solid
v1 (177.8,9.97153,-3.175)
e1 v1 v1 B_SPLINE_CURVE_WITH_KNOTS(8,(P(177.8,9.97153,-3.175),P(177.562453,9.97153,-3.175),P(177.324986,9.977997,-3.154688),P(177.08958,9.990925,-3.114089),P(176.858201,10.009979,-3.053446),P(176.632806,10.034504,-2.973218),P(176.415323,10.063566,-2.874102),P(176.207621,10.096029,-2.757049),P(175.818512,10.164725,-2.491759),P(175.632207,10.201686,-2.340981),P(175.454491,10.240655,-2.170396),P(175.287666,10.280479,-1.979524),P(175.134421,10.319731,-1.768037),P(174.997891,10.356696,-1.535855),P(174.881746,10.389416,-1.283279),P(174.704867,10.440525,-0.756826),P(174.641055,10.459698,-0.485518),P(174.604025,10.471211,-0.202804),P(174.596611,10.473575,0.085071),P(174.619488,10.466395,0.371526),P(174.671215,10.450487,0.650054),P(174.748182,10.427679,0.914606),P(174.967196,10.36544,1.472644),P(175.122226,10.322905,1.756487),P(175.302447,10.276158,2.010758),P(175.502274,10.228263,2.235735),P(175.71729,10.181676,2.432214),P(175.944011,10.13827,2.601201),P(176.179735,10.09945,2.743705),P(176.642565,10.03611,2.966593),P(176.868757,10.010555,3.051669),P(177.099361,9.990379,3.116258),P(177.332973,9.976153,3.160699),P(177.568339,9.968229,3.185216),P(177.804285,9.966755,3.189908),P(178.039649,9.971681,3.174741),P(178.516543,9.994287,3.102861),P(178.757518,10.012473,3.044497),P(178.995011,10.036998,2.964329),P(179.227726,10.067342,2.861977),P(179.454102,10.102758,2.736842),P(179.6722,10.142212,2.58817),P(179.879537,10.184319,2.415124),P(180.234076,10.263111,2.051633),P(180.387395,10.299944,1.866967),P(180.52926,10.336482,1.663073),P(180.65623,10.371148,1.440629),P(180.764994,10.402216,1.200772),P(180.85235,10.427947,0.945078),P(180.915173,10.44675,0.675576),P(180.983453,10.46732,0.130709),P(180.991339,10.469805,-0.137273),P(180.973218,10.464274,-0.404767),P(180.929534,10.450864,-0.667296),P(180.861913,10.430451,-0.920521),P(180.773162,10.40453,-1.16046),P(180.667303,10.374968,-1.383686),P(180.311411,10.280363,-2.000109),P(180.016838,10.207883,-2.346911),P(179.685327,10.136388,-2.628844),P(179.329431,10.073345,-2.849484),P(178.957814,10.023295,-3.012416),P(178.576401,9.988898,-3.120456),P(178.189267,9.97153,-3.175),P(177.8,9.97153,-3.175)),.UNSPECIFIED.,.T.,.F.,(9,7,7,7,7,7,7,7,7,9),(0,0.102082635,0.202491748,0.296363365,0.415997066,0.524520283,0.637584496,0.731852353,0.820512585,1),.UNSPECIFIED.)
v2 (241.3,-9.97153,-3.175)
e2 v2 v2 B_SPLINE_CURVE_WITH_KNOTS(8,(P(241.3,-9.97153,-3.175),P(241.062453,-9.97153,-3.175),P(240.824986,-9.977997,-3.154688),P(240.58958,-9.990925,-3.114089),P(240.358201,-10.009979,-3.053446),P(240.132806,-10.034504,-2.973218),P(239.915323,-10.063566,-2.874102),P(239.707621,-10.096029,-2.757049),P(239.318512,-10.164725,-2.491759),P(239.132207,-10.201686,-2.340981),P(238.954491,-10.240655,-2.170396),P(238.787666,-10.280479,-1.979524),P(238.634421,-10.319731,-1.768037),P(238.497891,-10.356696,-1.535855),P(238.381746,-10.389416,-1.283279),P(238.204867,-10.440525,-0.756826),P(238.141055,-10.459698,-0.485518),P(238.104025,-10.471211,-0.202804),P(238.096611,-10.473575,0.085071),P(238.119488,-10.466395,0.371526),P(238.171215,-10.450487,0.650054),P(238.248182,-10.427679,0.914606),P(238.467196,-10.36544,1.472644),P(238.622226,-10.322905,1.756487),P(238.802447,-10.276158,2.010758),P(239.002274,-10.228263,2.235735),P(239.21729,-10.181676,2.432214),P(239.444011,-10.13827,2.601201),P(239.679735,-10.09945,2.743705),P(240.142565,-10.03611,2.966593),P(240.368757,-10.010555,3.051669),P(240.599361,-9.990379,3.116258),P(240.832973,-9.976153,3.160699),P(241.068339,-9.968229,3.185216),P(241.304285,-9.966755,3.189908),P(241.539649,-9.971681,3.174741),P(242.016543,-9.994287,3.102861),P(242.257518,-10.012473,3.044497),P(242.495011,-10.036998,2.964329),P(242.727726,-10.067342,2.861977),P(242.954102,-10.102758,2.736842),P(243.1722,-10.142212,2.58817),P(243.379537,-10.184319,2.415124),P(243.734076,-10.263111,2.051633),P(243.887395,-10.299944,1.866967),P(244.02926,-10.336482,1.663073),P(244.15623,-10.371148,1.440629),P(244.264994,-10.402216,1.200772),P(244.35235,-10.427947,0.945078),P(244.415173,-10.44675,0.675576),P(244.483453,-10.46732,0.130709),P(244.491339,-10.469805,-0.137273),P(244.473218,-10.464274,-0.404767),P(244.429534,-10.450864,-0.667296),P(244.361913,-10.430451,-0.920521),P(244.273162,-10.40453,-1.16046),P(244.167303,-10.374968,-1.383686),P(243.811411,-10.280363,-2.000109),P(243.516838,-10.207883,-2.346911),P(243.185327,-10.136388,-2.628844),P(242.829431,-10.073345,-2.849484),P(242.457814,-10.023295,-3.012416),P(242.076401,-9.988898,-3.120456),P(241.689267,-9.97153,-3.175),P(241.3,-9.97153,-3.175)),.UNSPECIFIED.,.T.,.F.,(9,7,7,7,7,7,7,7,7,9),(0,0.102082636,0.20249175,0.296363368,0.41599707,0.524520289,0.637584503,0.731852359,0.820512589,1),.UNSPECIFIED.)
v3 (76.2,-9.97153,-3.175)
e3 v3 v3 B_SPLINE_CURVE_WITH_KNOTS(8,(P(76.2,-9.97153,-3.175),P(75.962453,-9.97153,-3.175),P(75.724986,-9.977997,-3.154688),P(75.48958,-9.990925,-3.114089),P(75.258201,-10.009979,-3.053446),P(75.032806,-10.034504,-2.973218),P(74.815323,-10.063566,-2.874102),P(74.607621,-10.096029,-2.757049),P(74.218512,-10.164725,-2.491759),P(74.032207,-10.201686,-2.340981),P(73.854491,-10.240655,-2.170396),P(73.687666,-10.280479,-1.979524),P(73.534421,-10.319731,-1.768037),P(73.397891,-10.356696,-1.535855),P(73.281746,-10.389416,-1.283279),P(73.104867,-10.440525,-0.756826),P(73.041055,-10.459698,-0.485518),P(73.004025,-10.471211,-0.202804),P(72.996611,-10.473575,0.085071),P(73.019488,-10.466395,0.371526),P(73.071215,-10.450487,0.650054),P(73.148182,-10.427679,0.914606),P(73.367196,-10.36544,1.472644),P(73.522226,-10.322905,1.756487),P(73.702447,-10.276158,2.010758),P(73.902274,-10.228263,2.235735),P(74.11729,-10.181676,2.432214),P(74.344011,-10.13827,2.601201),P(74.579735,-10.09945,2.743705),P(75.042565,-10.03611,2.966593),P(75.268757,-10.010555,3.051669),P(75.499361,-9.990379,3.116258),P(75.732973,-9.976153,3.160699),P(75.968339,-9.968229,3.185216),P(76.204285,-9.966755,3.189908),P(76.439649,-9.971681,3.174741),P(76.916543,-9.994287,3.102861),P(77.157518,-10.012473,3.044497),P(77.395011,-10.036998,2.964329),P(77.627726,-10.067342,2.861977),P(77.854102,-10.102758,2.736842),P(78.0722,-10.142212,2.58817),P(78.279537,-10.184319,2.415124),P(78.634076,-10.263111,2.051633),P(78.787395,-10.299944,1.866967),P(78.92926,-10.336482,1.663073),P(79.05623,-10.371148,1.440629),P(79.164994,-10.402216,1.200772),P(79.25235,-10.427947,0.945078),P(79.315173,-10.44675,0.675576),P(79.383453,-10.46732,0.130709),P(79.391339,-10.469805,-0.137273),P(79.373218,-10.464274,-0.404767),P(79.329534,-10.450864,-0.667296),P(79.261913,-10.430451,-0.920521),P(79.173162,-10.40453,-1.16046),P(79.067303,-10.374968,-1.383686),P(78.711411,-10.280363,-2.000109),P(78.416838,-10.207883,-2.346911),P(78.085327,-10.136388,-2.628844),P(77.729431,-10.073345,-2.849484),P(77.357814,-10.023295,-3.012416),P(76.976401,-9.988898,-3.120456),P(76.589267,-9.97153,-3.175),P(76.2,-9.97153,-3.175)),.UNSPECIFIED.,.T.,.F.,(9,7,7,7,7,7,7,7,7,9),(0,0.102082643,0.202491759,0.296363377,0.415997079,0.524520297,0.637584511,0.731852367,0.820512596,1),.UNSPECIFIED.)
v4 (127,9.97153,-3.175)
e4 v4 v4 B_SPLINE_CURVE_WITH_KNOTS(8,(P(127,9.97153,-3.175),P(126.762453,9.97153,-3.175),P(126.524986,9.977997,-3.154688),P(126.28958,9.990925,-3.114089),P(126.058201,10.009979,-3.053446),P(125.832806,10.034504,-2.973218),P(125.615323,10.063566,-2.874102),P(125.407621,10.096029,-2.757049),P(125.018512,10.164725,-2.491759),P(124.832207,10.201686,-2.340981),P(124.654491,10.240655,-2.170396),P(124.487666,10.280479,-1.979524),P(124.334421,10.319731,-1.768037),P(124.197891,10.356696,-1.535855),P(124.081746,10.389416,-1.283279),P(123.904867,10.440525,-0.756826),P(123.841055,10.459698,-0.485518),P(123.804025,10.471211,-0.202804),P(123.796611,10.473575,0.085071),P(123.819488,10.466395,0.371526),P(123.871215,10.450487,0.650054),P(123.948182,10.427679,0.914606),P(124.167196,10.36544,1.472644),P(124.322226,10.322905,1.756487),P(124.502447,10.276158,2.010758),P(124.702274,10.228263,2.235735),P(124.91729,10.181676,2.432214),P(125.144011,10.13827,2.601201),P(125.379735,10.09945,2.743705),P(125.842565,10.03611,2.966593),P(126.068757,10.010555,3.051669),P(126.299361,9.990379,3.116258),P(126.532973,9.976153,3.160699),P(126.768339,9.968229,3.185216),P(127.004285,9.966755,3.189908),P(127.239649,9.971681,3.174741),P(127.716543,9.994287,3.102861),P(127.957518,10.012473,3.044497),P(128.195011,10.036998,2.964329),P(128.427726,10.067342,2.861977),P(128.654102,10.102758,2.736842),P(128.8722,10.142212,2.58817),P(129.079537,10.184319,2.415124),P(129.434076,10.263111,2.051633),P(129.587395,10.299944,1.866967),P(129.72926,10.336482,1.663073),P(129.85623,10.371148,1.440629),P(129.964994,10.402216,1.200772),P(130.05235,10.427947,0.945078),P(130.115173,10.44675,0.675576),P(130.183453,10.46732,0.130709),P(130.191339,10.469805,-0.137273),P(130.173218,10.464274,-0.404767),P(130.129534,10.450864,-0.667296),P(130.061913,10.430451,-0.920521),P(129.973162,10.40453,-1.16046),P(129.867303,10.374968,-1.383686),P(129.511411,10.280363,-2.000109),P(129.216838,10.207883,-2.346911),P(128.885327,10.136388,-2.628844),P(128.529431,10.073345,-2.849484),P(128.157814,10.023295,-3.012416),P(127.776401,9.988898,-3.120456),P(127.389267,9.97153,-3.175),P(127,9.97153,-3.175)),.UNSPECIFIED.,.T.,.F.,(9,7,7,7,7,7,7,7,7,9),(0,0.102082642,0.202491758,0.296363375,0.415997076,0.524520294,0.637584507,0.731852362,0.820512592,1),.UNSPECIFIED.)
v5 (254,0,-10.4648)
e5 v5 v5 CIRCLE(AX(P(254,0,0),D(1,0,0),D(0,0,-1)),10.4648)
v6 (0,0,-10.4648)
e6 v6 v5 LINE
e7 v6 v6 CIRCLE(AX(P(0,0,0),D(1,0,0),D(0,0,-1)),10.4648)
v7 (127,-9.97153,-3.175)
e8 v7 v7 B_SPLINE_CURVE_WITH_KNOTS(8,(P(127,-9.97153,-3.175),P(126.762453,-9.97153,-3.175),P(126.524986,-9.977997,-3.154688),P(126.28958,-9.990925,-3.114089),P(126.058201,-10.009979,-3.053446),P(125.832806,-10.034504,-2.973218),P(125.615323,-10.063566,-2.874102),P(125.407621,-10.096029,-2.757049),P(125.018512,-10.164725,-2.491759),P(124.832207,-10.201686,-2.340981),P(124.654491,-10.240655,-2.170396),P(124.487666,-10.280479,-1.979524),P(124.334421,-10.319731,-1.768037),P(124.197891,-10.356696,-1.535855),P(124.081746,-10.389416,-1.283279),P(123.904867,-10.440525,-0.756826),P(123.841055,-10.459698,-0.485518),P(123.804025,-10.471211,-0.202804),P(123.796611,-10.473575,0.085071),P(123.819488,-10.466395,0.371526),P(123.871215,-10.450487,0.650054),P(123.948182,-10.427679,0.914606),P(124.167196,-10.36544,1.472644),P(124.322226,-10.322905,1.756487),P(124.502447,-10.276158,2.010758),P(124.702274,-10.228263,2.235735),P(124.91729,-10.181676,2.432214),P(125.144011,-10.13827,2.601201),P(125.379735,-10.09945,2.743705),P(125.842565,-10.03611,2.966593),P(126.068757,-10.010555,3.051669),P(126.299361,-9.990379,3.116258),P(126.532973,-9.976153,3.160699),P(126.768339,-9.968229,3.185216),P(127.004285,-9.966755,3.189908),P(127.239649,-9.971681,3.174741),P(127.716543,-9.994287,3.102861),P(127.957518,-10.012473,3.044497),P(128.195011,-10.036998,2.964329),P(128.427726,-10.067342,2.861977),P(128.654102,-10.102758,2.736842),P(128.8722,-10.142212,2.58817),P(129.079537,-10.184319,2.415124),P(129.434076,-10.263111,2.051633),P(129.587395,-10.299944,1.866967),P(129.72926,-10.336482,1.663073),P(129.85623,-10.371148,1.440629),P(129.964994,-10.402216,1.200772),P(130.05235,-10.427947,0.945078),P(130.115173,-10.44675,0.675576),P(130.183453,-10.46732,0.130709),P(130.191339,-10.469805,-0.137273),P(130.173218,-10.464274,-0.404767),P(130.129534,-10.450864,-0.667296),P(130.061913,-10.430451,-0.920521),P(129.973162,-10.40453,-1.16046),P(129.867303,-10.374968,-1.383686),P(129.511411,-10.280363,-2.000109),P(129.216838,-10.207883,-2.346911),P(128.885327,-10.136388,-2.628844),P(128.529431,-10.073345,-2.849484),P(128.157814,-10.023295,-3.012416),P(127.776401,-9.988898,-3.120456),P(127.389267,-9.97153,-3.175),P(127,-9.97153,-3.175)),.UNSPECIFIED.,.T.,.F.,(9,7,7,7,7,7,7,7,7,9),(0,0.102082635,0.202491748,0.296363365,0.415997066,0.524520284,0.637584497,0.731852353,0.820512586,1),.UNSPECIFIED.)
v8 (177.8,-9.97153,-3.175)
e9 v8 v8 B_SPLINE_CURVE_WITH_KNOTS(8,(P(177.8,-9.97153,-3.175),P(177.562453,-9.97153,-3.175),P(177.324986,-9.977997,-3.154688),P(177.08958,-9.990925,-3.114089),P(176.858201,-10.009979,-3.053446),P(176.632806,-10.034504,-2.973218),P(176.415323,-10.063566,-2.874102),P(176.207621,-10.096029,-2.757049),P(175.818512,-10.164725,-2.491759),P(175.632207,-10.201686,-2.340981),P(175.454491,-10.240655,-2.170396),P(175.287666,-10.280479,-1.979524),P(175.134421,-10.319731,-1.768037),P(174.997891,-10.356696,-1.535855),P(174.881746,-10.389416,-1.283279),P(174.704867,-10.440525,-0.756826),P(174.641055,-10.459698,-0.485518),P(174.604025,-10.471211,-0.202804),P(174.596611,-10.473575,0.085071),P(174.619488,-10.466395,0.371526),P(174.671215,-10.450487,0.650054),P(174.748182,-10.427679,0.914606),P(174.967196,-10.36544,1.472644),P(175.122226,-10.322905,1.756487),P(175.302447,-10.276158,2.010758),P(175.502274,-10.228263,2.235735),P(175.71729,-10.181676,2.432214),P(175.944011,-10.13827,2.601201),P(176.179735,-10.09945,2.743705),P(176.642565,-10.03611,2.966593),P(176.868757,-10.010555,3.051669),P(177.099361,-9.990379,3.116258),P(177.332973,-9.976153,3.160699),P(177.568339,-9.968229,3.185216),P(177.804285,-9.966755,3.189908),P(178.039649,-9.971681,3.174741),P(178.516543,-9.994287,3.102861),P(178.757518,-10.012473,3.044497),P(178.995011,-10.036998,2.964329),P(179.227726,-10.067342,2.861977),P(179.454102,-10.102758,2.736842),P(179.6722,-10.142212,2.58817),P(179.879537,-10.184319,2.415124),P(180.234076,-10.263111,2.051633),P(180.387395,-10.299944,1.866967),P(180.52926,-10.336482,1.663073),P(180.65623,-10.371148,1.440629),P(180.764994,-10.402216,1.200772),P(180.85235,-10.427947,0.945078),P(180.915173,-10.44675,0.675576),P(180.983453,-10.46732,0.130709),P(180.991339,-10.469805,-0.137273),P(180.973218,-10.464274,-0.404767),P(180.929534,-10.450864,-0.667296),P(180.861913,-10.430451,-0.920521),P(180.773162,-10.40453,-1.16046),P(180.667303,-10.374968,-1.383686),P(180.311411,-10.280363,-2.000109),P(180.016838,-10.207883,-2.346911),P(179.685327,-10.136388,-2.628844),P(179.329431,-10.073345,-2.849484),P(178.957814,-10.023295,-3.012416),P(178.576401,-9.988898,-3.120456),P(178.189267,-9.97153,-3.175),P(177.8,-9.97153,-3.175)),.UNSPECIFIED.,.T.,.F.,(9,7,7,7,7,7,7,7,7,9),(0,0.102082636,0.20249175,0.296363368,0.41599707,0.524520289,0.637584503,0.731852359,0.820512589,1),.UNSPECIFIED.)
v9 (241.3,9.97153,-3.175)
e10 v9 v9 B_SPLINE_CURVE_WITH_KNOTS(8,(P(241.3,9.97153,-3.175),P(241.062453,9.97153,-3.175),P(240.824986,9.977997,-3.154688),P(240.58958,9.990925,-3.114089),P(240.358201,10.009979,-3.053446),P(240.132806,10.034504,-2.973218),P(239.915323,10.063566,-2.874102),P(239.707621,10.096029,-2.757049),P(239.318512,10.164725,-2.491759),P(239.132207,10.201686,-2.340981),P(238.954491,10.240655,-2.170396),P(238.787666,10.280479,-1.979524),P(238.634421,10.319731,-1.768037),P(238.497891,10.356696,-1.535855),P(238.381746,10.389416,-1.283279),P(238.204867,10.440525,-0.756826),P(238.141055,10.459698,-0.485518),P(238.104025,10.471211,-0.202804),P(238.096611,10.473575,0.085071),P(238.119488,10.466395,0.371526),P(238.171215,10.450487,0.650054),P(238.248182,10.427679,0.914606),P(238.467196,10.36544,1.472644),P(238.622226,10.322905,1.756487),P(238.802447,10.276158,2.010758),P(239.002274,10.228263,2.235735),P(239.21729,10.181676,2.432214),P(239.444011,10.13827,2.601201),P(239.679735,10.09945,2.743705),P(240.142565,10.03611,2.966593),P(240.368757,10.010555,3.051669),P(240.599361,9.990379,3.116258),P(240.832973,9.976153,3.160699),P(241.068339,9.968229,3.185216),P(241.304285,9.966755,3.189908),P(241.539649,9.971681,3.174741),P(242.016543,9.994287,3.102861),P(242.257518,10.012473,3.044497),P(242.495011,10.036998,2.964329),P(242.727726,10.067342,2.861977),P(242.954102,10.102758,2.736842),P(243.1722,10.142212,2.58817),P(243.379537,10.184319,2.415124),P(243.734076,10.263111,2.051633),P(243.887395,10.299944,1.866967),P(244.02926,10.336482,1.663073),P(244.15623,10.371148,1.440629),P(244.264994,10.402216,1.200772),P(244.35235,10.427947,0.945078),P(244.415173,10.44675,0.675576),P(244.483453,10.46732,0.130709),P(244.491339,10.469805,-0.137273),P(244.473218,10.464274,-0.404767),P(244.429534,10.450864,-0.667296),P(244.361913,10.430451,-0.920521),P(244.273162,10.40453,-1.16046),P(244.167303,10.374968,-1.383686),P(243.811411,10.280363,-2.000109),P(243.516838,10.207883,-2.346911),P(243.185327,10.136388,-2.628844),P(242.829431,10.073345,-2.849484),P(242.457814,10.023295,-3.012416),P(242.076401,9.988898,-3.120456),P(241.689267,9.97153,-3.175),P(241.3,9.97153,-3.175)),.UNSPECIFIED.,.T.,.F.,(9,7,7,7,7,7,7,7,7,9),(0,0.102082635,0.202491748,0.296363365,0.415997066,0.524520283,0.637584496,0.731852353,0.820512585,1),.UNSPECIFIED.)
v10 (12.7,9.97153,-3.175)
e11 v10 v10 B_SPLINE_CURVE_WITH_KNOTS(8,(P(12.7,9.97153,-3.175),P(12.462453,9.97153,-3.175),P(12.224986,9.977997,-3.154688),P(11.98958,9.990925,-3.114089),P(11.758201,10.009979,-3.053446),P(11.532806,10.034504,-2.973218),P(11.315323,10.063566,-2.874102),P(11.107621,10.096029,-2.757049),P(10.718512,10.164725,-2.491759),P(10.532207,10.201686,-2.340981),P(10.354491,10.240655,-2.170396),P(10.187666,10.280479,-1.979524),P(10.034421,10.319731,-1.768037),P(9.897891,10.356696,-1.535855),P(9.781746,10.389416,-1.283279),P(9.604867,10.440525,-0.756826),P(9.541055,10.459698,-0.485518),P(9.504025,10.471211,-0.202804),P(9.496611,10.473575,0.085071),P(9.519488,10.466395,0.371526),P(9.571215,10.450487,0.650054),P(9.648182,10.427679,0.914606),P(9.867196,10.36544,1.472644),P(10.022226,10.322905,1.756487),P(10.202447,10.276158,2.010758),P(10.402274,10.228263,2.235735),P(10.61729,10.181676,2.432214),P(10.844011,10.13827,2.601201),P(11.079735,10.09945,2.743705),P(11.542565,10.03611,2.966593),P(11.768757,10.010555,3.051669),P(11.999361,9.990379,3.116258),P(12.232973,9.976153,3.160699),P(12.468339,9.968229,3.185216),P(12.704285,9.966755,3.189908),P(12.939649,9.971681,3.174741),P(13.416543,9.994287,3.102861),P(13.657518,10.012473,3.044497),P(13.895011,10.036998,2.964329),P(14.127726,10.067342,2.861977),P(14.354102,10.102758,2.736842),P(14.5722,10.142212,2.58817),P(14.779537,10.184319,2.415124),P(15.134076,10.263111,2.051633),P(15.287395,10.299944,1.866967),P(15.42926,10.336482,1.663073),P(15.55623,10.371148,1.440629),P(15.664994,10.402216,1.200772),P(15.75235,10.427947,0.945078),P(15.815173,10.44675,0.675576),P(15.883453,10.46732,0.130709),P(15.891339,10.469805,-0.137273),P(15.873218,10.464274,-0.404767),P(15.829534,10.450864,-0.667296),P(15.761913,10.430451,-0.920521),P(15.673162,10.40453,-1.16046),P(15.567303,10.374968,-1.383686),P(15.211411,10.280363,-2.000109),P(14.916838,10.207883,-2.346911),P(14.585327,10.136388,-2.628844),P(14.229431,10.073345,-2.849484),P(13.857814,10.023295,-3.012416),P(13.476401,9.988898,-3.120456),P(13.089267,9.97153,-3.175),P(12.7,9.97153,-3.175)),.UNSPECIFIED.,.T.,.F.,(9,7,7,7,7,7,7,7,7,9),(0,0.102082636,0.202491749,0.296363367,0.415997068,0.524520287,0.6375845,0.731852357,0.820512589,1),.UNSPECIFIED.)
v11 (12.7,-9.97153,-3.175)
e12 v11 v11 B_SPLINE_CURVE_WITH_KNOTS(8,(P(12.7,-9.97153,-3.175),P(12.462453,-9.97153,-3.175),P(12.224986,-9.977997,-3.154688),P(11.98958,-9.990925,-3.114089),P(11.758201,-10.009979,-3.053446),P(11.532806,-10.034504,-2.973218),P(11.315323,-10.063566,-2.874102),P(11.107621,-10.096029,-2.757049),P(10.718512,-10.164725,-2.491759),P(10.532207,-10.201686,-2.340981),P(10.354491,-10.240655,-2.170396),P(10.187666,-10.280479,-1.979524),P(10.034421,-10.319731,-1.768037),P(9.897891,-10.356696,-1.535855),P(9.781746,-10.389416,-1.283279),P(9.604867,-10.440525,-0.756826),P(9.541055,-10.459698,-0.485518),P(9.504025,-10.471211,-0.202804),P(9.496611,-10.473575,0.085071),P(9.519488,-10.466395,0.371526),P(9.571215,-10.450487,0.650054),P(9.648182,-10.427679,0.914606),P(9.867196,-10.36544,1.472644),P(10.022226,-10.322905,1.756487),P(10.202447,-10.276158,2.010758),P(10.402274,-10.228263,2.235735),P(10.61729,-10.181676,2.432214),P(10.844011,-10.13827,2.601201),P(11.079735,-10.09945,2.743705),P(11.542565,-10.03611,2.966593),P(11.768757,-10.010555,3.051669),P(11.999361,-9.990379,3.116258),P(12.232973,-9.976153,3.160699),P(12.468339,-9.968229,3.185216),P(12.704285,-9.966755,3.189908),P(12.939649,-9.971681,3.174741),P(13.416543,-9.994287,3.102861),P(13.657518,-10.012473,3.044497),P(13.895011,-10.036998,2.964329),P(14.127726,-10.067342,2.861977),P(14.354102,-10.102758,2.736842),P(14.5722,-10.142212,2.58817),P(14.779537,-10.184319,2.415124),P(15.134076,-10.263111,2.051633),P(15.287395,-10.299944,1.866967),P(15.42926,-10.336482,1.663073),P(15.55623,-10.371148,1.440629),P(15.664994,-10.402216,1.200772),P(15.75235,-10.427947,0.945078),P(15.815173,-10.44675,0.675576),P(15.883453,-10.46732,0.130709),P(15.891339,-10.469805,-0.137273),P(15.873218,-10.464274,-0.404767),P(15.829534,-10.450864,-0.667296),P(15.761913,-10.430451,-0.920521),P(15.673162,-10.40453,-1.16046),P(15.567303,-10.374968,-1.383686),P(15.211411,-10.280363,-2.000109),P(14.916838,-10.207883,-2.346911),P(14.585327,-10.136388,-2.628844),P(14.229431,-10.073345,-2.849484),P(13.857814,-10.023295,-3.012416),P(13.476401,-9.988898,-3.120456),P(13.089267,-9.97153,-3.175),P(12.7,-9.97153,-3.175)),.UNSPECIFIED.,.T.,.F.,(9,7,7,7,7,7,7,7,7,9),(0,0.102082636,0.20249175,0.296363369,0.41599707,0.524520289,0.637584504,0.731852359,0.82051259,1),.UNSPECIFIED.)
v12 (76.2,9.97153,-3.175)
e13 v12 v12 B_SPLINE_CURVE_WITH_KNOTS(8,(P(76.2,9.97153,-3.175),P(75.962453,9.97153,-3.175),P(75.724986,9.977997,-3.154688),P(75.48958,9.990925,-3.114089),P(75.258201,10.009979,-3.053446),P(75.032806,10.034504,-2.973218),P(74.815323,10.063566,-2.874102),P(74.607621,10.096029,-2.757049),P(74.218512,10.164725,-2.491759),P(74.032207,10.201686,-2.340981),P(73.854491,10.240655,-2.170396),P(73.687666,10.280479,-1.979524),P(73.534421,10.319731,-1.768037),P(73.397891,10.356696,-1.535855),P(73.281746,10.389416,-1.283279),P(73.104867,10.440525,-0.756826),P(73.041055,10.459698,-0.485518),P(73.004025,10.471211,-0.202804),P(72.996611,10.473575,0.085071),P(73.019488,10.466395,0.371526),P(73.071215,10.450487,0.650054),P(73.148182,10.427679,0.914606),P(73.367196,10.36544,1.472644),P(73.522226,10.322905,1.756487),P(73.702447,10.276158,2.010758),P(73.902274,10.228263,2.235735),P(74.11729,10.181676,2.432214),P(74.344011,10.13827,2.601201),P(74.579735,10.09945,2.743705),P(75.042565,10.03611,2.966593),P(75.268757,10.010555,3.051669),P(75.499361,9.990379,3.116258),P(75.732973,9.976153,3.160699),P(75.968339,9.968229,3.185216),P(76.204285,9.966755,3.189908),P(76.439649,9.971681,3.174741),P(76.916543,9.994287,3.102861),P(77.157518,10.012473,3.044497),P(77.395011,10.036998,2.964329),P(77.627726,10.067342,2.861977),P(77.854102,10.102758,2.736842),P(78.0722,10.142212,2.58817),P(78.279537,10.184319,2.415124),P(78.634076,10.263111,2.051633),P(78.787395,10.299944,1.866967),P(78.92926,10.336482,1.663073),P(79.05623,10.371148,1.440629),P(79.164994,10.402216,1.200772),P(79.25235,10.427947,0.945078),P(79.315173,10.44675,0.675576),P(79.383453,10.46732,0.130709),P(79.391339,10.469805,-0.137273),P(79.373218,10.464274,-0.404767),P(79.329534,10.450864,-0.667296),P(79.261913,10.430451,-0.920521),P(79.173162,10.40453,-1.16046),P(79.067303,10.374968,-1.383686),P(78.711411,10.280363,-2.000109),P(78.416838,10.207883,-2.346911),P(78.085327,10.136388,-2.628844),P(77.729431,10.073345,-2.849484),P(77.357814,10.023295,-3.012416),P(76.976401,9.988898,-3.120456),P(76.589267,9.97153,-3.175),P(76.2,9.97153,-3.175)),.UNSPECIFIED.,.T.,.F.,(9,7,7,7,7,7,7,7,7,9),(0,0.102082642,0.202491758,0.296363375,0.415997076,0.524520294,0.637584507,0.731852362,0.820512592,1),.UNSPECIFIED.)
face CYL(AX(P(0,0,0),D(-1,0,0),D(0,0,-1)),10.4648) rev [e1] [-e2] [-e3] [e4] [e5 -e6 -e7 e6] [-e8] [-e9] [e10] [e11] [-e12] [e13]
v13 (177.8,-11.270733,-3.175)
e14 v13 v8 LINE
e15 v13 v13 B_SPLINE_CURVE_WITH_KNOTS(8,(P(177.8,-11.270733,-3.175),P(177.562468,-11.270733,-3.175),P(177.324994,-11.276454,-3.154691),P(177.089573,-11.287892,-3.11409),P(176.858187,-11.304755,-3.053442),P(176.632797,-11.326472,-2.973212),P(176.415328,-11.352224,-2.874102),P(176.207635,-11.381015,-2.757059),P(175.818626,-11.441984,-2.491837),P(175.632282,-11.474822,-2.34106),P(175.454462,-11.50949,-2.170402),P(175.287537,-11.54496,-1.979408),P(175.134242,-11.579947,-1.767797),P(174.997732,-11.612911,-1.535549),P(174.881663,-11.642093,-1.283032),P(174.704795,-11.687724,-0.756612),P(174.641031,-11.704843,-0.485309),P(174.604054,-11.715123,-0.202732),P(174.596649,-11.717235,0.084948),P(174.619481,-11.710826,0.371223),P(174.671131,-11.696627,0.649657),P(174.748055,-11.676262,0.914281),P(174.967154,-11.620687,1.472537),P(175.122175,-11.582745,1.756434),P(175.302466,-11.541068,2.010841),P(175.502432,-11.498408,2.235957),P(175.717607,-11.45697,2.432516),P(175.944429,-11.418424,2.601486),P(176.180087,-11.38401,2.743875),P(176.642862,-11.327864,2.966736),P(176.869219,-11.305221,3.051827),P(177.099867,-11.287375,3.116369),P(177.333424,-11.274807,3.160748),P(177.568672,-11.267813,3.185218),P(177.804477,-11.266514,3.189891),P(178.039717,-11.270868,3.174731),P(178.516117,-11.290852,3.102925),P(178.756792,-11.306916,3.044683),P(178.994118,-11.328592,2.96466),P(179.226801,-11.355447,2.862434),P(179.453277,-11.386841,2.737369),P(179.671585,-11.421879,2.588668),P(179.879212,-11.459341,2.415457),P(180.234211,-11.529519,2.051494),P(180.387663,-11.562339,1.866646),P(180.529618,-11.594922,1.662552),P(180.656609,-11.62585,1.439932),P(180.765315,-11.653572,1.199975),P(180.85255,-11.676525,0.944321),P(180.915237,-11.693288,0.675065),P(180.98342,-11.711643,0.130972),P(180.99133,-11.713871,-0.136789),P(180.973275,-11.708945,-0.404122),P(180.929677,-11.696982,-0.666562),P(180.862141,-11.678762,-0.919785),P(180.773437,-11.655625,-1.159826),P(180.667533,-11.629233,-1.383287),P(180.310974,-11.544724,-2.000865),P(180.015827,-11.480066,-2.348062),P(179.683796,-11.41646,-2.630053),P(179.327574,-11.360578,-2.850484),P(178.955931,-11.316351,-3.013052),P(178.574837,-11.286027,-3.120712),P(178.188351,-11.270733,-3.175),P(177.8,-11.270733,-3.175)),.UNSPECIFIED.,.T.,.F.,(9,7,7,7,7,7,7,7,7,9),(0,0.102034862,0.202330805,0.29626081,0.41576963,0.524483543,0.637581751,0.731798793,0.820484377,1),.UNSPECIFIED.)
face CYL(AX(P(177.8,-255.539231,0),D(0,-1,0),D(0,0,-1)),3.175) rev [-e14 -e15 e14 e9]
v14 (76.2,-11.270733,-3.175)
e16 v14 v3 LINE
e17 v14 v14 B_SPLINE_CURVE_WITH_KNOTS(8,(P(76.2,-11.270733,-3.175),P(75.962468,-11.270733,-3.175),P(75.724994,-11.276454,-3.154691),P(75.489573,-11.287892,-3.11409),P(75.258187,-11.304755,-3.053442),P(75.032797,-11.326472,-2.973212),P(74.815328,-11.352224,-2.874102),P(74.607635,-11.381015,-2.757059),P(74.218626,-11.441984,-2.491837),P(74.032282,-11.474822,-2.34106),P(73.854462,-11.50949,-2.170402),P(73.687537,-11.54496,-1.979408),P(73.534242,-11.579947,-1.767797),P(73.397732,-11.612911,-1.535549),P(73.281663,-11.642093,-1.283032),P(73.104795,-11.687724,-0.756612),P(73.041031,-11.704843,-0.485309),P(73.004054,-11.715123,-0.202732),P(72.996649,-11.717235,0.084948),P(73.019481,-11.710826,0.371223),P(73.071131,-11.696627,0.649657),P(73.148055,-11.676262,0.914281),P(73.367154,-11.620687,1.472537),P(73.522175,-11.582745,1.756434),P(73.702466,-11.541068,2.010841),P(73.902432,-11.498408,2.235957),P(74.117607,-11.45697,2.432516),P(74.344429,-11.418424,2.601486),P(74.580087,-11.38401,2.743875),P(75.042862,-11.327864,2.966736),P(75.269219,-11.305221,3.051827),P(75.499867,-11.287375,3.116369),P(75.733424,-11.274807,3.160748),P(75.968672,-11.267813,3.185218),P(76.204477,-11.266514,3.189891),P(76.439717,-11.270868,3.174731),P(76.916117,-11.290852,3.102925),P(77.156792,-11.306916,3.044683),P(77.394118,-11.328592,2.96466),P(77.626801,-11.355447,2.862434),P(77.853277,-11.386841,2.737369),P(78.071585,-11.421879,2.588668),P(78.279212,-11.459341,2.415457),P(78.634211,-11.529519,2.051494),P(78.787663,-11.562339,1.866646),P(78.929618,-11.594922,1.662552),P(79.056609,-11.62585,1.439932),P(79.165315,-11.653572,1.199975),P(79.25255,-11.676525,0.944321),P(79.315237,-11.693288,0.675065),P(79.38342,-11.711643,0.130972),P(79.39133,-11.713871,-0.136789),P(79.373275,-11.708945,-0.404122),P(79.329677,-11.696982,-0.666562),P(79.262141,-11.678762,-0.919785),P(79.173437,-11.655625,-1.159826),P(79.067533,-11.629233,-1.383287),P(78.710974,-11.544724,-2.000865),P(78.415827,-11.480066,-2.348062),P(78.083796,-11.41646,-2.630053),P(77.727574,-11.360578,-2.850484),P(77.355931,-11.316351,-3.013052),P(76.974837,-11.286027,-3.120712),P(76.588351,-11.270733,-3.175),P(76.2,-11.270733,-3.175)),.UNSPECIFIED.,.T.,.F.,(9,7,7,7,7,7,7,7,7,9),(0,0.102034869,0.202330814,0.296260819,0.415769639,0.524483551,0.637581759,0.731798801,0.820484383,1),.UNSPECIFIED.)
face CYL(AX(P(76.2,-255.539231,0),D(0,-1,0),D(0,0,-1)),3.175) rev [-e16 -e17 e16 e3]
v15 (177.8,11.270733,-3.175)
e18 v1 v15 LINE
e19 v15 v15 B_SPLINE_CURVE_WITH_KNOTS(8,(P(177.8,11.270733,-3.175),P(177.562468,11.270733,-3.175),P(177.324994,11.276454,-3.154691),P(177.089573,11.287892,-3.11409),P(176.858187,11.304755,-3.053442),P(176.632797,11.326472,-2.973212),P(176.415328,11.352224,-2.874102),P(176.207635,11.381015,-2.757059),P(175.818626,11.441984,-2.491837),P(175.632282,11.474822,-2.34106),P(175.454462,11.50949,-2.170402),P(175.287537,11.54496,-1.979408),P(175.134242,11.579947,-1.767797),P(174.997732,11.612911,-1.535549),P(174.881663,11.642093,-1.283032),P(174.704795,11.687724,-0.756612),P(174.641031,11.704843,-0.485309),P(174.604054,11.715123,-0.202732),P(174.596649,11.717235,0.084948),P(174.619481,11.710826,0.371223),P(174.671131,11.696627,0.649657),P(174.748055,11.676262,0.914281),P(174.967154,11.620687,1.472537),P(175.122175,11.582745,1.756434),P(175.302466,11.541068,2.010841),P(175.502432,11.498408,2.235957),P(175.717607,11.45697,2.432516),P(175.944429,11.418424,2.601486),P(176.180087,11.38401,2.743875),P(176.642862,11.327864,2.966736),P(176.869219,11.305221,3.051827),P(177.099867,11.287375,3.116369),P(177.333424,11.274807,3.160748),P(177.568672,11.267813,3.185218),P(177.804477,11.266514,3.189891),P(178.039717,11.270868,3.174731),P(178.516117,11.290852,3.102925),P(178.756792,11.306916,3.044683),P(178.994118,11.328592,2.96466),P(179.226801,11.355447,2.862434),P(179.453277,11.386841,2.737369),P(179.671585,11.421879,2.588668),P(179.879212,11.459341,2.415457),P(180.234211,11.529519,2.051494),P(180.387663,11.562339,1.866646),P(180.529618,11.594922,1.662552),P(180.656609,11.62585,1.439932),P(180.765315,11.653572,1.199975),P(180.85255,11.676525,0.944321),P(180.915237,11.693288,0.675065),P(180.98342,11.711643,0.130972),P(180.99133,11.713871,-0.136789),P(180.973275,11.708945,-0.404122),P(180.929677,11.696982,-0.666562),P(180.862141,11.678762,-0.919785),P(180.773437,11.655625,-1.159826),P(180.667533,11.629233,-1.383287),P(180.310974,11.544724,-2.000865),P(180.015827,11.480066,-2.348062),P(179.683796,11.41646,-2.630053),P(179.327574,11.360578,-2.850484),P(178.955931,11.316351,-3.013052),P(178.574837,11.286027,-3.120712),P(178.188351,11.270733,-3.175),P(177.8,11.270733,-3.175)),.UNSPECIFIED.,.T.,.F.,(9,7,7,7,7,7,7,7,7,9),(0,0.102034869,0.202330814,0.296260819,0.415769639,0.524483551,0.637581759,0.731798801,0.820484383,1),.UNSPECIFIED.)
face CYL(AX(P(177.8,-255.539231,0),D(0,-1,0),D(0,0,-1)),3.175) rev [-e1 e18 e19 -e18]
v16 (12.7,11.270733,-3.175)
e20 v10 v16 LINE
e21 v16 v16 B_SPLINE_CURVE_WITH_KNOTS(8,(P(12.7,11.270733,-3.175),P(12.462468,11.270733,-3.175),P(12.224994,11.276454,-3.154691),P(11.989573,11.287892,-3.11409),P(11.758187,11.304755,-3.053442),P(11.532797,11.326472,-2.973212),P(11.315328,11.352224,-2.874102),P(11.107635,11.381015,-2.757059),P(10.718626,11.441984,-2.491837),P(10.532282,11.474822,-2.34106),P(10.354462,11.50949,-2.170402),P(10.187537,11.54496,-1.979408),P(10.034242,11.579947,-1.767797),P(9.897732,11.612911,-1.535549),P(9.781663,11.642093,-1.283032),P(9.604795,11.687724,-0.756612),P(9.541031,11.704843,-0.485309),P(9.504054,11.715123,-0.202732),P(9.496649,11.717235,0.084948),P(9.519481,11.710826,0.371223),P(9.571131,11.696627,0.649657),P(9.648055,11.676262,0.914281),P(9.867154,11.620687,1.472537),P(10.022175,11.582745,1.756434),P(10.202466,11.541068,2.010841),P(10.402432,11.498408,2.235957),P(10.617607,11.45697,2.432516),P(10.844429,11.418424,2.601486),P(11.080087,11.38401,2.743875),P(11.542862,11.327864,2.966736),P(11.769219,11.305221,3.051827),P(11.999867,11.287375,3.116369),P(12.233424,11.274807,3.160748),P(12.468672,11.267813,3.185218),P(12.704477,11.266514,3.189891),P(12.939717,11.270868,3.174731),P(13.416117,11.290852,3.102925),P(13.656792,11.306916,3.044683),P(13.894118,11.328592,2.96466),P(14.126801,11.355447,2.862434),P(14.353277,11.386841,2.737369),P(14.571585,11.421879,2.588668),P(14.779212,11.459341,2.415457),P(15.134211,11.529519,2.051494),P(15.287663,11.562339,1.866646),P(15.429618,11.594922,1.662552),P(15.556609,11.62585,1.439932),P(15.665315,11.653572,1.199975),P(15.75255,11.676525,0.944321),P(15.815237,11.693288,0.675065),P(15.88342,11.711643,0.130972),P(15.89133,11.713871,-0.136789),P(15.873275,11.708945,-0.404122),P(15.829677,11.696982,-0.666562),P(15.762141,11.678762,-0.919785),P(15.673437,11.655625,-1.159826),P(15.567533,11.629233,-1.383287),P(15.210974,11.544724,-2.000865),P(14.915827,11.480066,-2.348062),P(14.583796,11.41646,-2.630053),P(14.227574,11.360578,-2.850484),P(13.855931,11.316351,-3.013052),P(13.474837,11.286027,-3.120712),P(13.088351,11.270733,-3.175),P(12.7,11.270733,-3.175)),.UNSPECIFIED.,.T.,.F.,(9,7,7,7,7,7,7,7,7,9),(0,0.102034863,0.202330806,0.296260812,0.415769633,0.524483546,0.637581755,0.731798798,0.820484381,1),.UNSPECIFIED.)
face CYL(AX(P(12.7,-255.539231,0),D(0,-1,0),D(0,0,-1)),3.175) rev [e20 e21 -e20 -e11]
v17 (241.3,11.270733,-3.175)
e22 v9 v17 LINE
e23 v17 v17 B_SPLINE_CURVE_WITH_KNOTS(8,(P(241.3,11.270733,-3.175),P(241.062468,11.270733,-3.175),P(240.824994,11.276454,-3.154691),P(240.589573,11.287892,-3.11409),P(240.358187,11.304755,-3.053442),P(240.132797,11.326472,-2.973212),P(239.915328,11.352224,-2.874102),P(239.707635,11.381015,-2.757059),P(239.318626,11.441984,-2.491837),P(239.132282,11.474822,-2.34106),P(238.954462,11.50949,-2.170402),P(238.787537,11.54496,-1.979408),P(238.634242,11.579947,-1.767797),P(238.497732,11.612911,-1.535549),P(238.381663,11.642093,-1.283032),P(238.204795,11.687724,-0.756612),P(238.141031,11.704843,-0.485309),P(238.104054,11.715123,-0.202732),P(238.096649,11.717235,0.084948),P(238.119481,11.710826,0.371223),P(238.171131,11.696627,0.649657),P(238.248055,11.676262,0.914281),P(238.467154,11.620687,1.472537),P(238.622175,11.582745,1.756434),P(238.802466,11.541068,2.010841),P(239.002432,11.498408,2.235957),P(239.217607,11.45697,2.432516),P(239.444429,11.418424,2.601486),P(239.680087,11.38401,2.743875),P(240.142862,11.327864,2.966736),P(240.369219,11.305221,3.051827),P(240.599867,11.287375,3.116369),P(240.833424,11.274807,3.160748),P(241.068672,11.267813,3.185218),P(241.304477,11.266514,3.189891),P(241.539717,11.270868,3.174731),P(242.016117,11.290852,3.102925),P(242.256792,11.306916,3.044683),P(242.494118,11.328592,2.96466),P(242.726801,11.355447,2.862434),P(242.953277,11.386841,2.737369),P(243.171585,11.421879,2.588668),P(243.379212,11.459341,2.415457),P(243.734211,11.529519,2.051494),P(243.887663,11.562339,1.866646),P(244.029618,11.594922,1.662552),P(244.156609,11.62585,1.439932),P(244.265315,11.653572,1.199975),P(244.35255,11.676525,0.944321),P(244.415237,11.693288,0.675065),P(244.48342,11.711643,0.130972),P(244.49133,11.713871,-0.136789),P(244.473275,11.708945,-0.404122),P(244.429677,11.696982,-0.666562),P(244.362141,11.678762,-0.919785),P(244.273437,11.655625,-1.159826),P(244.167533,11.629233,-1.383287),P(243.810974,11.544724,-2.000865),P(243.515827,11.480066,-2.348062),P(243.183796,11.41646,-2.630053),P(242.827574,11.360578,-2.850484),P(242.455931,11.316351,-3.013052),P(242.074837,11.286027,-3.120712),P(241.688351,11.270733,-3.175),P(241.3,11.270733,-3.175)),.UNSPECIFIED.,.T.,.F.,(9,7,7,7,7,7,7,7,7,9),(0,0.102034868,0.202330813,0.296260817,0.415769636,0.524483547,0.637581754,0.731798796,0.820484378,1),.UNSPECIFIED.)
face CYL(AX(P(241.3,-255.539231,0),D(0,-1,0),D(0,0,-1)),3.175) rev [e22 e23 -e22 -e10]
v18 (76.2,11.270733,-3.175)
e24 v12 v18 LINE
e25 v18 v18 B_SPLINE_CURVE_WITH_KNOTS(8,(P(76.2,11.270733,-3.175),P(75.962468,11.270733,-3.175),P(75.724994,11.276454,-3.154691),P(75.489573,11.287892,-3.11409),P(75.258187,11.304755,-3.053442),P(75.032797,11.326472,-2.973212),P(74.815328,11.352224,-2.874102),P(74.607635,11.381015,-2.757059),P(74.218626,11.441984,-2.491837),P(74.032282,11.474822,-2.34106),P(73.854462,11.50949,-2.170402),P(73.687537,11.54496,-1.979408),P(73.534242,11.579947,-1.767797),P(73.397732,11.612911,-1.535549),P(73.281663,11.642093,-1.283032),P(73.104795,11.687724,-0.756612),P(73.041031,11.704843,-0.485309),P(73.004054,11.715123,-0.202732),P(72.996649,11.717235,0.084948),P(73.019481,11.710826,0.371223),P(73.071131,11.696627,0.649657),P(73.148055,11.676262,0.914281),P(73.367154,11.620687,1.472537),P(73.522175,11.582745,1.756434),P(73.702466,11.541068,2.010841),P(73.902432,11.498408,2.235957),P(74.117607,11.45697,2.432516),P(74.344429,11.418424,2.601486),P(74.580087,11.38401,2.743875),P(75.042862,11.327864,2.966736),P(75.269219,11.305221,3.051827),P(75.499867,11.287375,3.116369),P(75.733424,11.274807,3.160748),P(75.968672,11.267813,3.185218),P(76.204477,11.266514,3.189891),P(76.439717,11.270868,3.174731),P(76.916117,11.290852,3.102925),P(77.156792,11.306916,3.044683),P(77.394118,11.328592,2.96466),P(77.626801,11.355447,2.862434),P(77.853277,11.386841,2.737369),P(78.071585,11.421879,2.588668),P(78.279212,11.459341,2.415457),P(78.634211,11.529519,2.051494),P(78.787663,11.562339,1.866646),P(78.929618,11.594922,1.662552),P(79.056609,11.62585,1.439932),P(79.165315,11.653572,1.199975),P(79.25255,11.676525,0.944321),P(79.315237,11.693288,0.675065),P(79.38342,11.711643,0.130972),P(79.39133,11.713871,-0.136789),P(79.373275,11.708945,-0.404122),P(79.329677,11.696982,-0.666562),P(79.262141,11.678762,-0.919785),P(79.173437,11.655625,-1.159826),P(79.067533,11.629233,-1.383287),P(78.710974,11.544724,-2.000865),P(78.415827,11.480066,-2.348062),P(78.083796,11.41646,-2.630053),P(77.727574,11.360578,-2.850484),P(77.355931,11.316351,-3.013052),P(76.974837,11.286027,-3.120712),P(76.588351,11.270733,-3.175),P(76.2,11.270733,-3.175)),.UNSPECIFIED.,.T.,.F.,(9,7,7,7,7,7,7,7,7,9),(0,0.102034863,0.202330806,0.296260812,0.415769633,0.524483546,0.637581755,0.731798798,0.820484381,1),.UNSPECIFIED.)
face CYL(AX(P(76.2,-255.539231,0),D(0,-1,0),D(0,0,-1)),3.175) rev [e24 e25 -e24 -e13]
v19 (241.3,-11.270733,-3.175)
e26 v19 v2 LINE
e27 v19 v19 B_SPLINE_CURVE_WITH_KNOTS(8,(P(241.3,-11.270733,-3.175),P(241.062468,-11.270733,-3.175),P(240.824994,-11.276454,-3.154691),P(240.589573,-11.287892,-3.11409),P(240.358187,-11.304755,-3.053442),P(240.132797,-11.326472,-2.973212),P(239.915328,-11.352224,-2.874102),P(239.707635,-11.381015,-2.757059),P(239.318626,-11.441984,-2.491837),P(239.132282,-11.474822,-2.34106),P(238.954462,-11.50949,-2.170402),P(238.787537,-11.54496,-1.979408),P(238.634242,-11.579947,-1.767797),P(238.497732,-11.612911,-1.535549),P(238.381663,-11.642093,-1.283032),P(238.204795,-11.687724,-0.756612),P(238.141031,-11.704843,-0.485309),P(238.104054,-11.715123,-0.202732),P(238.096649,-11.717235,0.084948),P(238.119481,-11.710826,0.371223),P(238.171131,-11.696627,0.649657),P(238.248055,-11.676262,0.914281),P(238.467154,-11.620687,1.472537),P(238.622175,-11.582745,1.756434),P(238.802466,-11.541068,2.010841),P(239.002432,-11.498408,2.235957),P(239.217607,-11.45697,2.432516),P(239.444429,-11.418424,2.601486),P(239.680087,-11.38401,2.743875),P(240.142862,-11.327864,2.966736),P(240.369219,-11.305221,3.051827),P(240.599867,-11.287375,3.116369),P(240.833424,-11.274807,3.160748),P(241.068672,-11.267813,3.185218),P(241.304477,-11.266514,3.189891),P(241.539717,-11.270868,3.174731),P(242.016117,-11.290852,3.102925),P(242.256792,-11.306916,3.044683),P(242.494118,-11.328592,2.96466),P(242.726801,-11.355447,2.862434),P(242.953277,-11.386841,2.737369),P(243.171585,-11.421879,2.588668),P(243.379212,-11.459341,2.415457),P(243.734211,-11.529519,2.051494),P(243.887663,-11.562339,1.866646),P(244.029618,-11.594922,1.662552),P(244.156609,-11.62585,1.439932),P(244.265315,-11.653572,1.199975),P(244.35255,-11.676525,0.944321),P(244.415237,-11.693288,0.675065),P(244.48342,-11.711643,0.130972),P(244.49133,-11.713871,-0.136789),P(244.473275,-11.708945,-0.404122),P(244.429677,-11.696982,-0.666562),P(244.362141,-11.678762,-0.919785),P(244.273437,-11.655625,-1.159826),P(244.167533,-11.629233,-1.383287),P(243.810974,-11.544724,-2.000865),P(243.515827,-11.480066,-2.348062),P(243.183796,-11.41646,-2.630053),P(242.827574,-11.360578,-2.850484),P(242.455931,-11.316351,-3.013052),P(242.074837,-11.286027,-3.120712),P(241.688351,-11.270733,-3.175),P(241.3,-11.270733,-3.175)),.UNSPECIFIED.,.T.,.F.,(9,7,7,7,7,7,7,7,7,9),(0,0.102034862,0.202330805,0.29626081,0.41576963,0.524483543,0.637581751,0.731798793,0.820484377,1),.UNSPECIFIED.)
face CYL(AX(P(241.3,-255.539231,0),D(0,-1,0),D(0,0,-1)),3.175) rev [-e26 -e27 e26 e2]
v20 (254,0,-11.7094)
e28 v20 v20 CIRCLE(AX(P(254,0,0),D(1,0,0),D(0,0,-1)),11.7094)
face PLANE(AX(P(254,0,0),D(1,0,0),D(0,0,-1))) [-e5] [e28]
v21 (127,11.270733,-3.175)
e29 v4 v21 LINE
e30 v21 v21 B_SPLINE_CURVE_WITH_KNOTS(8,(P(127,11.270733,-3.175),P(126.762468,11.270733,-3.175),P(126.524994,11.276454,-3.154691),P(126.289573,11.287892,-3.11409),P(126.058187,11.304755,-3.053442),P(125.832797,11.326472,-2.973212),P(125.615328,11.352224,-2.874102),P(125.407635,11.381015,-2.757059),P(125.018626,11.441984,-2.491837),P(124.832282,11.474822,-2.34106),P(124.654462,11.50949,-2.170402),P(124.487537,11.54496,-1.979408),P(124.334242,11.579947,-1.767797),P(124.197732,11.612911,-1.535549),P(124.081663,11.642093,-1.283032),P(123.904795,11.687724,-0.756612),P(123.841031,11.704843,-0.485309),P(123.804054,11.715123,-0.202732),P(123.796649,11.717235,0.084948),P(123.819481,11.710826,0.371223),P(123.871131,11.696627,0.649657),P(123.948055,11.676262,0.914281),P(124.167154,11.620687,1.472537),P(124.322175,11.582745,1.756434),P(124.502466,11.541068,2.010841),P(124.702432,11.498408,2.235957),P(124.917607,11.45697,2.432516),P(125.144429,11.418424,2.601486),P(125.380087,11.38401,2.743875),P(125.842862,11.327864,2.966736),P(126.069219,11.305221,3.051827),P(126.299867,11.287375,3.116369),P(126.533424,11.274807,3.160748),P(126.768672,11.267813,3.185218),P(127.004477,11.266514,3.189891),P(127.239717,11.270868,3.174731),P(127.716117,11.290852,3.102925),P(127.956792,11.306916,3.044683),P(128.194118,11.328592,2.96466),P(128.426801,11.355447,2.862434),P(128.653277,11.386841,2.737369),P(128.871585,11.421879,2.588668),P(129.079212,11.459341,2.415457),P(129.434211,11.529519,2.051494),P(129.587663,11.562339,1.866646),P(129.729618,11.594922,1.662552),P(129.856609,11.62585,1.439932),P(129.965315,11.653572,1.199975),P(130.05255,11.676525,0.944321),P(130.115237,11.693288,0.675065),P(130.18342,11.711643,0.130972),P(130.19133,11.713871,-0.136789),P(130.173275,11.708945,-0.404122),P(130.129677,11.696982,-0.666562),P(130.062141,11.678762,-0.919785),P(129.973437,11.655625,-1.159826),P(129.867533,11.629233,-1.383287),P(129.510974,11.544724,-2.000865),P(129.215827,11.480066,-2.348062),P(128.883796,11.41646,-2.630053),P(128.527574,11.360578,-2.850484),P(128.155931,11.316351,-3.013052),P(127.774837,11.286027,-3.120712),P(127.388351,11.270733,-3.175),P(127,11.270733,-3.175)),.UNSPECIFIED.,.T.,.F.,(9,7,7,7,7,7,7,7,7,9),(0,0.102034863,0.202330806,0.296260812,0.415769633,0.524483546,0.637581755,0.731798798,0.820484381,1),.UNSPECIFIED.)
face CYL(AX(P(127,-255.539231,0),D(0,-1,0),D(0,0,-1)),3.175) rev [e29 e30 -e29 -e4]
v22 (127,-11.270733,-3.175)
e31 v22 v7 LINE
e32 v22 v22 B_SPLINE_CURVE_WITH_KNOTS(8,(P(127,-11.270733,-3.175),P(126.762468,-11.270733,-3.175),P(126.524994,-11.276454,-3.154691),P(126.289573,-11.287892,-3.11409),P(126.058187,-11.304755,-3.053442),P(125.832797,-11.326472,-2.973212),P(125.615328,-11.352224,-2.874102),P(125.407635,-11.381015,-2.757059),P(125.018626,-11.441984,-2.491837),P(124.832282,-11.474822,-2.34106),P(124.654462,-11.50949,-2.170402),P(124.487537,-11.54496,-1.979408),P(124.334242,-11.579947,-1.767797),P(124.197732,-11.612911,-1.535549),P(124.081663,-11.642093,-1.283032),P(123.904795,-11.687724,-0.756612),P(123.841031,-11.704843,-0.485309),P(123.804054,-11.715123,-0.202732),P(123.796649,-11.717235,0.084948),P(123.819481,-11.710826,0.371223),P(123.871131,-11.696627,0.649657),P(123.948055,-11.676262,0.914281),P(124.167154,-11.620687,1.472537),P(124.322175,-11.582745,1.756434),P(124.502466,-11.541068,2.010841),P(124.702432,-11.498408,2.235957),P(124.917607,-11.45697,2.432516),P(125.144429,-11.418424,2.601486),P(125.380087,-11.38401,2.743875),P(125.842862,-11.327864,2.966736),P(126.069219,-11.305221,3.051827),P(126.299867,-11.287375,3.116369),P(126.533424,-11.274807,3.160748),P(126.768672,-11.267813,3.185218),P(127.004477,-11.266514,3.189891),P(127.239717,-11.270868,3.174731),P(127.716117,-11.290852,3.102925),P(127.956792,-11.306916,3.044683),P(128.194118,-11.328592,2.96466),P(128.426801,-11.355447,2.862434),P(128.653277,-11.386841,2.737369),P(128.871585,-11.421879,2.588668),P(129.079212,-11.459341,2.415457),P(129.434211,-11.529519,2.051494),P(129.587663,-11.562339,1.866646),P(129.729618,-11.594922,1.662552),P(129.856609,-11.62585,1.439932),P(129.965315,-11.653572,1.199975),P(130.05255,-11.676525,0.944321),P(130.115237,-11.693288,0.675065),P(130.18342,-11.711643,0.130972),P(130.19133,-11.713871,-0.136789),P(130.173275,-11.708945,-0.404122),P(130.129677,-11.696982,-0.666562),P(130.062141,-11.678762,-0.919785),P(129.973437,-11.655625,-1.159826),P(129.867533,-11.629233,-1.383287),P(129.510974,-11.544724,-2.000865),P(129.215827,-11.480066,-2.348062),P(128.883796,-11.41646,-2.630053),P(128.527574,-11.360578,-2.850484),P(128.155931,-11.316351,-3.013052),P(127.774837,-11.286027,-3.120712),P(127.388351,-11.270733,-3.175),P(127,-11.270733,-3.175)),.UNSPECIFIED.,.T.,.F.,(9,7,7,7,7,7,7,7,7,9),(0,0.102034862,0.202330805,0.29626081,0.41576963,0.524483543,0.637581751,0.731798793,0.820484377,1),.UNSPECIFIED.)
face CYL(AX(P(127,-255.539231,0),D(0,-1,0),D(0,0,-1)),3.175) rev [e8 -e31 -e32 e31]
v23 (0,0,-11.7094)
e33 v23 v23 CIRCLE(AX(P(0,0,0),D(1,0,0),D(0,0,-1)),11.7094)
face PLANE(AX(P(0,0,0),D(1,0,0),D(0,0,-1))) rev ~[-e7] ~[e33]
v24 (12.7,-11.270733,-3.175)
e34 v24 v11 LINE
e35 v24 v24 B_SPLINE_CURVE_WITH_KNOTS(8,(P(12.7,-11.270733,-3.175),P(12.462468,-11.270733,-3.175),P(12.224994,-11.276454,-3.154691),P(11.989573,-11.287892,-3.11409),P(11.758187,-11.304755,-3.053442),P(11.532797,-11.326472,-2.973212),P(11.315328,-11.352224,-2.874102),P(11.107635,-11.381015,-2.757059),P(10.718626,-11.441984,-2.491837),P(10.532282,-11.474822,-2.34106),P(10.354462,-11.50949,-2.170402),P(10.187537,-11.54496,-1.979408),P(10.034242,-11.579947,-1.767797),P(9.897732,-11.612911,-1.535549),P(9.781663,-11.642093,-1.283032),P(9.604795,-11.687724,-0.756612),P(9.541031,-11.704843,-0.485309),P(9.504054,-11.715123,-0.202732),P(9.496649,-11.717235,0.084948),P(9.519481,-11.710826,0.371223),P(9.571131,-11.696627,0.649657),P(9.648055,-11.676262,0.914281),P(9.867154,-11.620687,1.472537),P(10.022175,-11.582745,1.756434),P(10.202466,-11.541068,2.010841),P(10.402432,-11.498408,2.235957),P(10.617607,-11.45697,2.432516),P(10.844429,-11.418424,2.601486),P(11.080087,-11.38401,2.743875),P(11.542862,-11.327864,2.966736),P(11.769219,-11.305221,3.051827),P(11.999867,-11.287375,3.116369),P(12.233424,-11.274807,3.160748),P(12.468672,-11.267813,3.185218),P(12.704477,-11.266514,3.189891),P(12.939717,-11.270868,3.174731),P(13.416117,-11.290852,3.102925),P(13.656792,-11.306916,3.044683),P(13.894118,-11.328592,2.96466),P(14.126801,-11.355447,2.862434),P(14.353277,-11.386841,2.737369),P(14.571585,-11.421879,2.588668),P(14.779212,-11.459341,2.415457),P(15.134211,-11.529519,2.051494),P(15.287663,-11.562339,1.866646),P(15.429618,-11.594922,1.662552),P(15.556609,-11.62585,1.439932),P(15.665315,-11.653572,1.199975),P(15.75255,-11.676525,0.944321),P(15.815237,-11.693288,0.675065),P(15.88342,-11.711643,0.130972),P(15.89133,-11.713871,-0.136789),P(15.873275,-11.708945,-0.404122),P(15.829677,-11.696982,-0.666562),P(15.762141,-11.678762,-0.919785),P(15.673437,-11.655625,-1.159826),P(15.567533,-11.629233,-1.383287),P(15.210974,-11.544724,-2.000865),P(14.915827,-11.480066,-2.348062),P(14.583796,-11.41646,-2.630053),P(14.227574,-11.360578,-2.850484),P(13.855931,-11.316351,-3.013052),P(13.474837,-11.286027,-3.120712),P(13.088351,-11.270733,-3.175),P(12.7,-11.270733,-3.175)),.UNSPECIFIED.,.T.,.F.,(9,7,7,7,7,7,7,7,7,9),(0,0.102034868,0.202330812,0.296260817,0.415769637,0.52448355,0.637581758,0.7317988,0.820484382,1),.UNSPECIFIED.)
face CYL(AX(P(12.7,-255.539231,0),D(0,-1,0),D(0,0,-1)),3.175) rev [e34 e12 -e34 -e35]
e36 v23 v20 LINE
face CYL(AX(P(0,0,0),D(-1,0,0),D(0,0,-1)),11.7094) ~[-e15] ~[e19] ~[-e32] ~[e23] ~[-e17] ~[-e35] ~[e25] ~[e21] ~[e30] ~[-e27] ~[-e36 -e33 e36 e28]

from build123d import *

# Parameters (mm, degrees)
SKETCH3_R               = 11.7094
SKETCH3_R_2             = 10.4648
BOSS_EXTRUDE1_DEPTH     = 254
CUT_EXTRUDE1_DEPTH      = 255.539230958
CUT_EXTRUDE1_DEPTH_BACK = 255.539230958
SKETCH4_R               = 3.175


with BuildPart() as part:
    # Sketch3 → Boss-Extrude1 (new body)
    with BuildSketch(Plane(origin=(0, 0, 0), x_dir=(0, 0, -1), z_dir=(1, 0, 0))):
        Circle(SKETCH3_R)
        Circle(SKETCH3_R_2, mode=Mode.SUBTRACT)
    extrude(amount=BOSS_EXTRUDE1_DEPTH)

    # Sketch4 → Cut-Extrude1 (cut, two sides: drawn at the far end of the back side and taken through both)
    with BuildSketch(Plane(origin=(0, 0, 0), x_dir=(1, 0, 0), z_dir=(0, 1, 0)).offset(-CUT_EXTRUDE1_DEPTH_BACK)):
        with Locations(Location((127, 0, 0), (0, 0, 90))):
            Circle(SKETCH4_R)
        with Locations(Location((12.7, 0, 0), (0, 0, 90))):
            Circle(SKETCH4_R)
        with Locations(Location((76.2, 0, 0), (0, 0, 90))):
            Circle(SKETCH4_R)
        with Locations(Location((177.8, 0, 0), (0, 0, 90))):
            Circle(SKETCH4_R)
        with Locations(Location((241.3, 0, 0), (0, 0, 90))):
            Circle(SKETCH4_R)
    extrude(amount=CUT_EXTRUDE1_DEPTH + CUT_EXTRUDE1_DEPTH_BACK, mode=Mode.SUBTRACT)


solid = part.part
